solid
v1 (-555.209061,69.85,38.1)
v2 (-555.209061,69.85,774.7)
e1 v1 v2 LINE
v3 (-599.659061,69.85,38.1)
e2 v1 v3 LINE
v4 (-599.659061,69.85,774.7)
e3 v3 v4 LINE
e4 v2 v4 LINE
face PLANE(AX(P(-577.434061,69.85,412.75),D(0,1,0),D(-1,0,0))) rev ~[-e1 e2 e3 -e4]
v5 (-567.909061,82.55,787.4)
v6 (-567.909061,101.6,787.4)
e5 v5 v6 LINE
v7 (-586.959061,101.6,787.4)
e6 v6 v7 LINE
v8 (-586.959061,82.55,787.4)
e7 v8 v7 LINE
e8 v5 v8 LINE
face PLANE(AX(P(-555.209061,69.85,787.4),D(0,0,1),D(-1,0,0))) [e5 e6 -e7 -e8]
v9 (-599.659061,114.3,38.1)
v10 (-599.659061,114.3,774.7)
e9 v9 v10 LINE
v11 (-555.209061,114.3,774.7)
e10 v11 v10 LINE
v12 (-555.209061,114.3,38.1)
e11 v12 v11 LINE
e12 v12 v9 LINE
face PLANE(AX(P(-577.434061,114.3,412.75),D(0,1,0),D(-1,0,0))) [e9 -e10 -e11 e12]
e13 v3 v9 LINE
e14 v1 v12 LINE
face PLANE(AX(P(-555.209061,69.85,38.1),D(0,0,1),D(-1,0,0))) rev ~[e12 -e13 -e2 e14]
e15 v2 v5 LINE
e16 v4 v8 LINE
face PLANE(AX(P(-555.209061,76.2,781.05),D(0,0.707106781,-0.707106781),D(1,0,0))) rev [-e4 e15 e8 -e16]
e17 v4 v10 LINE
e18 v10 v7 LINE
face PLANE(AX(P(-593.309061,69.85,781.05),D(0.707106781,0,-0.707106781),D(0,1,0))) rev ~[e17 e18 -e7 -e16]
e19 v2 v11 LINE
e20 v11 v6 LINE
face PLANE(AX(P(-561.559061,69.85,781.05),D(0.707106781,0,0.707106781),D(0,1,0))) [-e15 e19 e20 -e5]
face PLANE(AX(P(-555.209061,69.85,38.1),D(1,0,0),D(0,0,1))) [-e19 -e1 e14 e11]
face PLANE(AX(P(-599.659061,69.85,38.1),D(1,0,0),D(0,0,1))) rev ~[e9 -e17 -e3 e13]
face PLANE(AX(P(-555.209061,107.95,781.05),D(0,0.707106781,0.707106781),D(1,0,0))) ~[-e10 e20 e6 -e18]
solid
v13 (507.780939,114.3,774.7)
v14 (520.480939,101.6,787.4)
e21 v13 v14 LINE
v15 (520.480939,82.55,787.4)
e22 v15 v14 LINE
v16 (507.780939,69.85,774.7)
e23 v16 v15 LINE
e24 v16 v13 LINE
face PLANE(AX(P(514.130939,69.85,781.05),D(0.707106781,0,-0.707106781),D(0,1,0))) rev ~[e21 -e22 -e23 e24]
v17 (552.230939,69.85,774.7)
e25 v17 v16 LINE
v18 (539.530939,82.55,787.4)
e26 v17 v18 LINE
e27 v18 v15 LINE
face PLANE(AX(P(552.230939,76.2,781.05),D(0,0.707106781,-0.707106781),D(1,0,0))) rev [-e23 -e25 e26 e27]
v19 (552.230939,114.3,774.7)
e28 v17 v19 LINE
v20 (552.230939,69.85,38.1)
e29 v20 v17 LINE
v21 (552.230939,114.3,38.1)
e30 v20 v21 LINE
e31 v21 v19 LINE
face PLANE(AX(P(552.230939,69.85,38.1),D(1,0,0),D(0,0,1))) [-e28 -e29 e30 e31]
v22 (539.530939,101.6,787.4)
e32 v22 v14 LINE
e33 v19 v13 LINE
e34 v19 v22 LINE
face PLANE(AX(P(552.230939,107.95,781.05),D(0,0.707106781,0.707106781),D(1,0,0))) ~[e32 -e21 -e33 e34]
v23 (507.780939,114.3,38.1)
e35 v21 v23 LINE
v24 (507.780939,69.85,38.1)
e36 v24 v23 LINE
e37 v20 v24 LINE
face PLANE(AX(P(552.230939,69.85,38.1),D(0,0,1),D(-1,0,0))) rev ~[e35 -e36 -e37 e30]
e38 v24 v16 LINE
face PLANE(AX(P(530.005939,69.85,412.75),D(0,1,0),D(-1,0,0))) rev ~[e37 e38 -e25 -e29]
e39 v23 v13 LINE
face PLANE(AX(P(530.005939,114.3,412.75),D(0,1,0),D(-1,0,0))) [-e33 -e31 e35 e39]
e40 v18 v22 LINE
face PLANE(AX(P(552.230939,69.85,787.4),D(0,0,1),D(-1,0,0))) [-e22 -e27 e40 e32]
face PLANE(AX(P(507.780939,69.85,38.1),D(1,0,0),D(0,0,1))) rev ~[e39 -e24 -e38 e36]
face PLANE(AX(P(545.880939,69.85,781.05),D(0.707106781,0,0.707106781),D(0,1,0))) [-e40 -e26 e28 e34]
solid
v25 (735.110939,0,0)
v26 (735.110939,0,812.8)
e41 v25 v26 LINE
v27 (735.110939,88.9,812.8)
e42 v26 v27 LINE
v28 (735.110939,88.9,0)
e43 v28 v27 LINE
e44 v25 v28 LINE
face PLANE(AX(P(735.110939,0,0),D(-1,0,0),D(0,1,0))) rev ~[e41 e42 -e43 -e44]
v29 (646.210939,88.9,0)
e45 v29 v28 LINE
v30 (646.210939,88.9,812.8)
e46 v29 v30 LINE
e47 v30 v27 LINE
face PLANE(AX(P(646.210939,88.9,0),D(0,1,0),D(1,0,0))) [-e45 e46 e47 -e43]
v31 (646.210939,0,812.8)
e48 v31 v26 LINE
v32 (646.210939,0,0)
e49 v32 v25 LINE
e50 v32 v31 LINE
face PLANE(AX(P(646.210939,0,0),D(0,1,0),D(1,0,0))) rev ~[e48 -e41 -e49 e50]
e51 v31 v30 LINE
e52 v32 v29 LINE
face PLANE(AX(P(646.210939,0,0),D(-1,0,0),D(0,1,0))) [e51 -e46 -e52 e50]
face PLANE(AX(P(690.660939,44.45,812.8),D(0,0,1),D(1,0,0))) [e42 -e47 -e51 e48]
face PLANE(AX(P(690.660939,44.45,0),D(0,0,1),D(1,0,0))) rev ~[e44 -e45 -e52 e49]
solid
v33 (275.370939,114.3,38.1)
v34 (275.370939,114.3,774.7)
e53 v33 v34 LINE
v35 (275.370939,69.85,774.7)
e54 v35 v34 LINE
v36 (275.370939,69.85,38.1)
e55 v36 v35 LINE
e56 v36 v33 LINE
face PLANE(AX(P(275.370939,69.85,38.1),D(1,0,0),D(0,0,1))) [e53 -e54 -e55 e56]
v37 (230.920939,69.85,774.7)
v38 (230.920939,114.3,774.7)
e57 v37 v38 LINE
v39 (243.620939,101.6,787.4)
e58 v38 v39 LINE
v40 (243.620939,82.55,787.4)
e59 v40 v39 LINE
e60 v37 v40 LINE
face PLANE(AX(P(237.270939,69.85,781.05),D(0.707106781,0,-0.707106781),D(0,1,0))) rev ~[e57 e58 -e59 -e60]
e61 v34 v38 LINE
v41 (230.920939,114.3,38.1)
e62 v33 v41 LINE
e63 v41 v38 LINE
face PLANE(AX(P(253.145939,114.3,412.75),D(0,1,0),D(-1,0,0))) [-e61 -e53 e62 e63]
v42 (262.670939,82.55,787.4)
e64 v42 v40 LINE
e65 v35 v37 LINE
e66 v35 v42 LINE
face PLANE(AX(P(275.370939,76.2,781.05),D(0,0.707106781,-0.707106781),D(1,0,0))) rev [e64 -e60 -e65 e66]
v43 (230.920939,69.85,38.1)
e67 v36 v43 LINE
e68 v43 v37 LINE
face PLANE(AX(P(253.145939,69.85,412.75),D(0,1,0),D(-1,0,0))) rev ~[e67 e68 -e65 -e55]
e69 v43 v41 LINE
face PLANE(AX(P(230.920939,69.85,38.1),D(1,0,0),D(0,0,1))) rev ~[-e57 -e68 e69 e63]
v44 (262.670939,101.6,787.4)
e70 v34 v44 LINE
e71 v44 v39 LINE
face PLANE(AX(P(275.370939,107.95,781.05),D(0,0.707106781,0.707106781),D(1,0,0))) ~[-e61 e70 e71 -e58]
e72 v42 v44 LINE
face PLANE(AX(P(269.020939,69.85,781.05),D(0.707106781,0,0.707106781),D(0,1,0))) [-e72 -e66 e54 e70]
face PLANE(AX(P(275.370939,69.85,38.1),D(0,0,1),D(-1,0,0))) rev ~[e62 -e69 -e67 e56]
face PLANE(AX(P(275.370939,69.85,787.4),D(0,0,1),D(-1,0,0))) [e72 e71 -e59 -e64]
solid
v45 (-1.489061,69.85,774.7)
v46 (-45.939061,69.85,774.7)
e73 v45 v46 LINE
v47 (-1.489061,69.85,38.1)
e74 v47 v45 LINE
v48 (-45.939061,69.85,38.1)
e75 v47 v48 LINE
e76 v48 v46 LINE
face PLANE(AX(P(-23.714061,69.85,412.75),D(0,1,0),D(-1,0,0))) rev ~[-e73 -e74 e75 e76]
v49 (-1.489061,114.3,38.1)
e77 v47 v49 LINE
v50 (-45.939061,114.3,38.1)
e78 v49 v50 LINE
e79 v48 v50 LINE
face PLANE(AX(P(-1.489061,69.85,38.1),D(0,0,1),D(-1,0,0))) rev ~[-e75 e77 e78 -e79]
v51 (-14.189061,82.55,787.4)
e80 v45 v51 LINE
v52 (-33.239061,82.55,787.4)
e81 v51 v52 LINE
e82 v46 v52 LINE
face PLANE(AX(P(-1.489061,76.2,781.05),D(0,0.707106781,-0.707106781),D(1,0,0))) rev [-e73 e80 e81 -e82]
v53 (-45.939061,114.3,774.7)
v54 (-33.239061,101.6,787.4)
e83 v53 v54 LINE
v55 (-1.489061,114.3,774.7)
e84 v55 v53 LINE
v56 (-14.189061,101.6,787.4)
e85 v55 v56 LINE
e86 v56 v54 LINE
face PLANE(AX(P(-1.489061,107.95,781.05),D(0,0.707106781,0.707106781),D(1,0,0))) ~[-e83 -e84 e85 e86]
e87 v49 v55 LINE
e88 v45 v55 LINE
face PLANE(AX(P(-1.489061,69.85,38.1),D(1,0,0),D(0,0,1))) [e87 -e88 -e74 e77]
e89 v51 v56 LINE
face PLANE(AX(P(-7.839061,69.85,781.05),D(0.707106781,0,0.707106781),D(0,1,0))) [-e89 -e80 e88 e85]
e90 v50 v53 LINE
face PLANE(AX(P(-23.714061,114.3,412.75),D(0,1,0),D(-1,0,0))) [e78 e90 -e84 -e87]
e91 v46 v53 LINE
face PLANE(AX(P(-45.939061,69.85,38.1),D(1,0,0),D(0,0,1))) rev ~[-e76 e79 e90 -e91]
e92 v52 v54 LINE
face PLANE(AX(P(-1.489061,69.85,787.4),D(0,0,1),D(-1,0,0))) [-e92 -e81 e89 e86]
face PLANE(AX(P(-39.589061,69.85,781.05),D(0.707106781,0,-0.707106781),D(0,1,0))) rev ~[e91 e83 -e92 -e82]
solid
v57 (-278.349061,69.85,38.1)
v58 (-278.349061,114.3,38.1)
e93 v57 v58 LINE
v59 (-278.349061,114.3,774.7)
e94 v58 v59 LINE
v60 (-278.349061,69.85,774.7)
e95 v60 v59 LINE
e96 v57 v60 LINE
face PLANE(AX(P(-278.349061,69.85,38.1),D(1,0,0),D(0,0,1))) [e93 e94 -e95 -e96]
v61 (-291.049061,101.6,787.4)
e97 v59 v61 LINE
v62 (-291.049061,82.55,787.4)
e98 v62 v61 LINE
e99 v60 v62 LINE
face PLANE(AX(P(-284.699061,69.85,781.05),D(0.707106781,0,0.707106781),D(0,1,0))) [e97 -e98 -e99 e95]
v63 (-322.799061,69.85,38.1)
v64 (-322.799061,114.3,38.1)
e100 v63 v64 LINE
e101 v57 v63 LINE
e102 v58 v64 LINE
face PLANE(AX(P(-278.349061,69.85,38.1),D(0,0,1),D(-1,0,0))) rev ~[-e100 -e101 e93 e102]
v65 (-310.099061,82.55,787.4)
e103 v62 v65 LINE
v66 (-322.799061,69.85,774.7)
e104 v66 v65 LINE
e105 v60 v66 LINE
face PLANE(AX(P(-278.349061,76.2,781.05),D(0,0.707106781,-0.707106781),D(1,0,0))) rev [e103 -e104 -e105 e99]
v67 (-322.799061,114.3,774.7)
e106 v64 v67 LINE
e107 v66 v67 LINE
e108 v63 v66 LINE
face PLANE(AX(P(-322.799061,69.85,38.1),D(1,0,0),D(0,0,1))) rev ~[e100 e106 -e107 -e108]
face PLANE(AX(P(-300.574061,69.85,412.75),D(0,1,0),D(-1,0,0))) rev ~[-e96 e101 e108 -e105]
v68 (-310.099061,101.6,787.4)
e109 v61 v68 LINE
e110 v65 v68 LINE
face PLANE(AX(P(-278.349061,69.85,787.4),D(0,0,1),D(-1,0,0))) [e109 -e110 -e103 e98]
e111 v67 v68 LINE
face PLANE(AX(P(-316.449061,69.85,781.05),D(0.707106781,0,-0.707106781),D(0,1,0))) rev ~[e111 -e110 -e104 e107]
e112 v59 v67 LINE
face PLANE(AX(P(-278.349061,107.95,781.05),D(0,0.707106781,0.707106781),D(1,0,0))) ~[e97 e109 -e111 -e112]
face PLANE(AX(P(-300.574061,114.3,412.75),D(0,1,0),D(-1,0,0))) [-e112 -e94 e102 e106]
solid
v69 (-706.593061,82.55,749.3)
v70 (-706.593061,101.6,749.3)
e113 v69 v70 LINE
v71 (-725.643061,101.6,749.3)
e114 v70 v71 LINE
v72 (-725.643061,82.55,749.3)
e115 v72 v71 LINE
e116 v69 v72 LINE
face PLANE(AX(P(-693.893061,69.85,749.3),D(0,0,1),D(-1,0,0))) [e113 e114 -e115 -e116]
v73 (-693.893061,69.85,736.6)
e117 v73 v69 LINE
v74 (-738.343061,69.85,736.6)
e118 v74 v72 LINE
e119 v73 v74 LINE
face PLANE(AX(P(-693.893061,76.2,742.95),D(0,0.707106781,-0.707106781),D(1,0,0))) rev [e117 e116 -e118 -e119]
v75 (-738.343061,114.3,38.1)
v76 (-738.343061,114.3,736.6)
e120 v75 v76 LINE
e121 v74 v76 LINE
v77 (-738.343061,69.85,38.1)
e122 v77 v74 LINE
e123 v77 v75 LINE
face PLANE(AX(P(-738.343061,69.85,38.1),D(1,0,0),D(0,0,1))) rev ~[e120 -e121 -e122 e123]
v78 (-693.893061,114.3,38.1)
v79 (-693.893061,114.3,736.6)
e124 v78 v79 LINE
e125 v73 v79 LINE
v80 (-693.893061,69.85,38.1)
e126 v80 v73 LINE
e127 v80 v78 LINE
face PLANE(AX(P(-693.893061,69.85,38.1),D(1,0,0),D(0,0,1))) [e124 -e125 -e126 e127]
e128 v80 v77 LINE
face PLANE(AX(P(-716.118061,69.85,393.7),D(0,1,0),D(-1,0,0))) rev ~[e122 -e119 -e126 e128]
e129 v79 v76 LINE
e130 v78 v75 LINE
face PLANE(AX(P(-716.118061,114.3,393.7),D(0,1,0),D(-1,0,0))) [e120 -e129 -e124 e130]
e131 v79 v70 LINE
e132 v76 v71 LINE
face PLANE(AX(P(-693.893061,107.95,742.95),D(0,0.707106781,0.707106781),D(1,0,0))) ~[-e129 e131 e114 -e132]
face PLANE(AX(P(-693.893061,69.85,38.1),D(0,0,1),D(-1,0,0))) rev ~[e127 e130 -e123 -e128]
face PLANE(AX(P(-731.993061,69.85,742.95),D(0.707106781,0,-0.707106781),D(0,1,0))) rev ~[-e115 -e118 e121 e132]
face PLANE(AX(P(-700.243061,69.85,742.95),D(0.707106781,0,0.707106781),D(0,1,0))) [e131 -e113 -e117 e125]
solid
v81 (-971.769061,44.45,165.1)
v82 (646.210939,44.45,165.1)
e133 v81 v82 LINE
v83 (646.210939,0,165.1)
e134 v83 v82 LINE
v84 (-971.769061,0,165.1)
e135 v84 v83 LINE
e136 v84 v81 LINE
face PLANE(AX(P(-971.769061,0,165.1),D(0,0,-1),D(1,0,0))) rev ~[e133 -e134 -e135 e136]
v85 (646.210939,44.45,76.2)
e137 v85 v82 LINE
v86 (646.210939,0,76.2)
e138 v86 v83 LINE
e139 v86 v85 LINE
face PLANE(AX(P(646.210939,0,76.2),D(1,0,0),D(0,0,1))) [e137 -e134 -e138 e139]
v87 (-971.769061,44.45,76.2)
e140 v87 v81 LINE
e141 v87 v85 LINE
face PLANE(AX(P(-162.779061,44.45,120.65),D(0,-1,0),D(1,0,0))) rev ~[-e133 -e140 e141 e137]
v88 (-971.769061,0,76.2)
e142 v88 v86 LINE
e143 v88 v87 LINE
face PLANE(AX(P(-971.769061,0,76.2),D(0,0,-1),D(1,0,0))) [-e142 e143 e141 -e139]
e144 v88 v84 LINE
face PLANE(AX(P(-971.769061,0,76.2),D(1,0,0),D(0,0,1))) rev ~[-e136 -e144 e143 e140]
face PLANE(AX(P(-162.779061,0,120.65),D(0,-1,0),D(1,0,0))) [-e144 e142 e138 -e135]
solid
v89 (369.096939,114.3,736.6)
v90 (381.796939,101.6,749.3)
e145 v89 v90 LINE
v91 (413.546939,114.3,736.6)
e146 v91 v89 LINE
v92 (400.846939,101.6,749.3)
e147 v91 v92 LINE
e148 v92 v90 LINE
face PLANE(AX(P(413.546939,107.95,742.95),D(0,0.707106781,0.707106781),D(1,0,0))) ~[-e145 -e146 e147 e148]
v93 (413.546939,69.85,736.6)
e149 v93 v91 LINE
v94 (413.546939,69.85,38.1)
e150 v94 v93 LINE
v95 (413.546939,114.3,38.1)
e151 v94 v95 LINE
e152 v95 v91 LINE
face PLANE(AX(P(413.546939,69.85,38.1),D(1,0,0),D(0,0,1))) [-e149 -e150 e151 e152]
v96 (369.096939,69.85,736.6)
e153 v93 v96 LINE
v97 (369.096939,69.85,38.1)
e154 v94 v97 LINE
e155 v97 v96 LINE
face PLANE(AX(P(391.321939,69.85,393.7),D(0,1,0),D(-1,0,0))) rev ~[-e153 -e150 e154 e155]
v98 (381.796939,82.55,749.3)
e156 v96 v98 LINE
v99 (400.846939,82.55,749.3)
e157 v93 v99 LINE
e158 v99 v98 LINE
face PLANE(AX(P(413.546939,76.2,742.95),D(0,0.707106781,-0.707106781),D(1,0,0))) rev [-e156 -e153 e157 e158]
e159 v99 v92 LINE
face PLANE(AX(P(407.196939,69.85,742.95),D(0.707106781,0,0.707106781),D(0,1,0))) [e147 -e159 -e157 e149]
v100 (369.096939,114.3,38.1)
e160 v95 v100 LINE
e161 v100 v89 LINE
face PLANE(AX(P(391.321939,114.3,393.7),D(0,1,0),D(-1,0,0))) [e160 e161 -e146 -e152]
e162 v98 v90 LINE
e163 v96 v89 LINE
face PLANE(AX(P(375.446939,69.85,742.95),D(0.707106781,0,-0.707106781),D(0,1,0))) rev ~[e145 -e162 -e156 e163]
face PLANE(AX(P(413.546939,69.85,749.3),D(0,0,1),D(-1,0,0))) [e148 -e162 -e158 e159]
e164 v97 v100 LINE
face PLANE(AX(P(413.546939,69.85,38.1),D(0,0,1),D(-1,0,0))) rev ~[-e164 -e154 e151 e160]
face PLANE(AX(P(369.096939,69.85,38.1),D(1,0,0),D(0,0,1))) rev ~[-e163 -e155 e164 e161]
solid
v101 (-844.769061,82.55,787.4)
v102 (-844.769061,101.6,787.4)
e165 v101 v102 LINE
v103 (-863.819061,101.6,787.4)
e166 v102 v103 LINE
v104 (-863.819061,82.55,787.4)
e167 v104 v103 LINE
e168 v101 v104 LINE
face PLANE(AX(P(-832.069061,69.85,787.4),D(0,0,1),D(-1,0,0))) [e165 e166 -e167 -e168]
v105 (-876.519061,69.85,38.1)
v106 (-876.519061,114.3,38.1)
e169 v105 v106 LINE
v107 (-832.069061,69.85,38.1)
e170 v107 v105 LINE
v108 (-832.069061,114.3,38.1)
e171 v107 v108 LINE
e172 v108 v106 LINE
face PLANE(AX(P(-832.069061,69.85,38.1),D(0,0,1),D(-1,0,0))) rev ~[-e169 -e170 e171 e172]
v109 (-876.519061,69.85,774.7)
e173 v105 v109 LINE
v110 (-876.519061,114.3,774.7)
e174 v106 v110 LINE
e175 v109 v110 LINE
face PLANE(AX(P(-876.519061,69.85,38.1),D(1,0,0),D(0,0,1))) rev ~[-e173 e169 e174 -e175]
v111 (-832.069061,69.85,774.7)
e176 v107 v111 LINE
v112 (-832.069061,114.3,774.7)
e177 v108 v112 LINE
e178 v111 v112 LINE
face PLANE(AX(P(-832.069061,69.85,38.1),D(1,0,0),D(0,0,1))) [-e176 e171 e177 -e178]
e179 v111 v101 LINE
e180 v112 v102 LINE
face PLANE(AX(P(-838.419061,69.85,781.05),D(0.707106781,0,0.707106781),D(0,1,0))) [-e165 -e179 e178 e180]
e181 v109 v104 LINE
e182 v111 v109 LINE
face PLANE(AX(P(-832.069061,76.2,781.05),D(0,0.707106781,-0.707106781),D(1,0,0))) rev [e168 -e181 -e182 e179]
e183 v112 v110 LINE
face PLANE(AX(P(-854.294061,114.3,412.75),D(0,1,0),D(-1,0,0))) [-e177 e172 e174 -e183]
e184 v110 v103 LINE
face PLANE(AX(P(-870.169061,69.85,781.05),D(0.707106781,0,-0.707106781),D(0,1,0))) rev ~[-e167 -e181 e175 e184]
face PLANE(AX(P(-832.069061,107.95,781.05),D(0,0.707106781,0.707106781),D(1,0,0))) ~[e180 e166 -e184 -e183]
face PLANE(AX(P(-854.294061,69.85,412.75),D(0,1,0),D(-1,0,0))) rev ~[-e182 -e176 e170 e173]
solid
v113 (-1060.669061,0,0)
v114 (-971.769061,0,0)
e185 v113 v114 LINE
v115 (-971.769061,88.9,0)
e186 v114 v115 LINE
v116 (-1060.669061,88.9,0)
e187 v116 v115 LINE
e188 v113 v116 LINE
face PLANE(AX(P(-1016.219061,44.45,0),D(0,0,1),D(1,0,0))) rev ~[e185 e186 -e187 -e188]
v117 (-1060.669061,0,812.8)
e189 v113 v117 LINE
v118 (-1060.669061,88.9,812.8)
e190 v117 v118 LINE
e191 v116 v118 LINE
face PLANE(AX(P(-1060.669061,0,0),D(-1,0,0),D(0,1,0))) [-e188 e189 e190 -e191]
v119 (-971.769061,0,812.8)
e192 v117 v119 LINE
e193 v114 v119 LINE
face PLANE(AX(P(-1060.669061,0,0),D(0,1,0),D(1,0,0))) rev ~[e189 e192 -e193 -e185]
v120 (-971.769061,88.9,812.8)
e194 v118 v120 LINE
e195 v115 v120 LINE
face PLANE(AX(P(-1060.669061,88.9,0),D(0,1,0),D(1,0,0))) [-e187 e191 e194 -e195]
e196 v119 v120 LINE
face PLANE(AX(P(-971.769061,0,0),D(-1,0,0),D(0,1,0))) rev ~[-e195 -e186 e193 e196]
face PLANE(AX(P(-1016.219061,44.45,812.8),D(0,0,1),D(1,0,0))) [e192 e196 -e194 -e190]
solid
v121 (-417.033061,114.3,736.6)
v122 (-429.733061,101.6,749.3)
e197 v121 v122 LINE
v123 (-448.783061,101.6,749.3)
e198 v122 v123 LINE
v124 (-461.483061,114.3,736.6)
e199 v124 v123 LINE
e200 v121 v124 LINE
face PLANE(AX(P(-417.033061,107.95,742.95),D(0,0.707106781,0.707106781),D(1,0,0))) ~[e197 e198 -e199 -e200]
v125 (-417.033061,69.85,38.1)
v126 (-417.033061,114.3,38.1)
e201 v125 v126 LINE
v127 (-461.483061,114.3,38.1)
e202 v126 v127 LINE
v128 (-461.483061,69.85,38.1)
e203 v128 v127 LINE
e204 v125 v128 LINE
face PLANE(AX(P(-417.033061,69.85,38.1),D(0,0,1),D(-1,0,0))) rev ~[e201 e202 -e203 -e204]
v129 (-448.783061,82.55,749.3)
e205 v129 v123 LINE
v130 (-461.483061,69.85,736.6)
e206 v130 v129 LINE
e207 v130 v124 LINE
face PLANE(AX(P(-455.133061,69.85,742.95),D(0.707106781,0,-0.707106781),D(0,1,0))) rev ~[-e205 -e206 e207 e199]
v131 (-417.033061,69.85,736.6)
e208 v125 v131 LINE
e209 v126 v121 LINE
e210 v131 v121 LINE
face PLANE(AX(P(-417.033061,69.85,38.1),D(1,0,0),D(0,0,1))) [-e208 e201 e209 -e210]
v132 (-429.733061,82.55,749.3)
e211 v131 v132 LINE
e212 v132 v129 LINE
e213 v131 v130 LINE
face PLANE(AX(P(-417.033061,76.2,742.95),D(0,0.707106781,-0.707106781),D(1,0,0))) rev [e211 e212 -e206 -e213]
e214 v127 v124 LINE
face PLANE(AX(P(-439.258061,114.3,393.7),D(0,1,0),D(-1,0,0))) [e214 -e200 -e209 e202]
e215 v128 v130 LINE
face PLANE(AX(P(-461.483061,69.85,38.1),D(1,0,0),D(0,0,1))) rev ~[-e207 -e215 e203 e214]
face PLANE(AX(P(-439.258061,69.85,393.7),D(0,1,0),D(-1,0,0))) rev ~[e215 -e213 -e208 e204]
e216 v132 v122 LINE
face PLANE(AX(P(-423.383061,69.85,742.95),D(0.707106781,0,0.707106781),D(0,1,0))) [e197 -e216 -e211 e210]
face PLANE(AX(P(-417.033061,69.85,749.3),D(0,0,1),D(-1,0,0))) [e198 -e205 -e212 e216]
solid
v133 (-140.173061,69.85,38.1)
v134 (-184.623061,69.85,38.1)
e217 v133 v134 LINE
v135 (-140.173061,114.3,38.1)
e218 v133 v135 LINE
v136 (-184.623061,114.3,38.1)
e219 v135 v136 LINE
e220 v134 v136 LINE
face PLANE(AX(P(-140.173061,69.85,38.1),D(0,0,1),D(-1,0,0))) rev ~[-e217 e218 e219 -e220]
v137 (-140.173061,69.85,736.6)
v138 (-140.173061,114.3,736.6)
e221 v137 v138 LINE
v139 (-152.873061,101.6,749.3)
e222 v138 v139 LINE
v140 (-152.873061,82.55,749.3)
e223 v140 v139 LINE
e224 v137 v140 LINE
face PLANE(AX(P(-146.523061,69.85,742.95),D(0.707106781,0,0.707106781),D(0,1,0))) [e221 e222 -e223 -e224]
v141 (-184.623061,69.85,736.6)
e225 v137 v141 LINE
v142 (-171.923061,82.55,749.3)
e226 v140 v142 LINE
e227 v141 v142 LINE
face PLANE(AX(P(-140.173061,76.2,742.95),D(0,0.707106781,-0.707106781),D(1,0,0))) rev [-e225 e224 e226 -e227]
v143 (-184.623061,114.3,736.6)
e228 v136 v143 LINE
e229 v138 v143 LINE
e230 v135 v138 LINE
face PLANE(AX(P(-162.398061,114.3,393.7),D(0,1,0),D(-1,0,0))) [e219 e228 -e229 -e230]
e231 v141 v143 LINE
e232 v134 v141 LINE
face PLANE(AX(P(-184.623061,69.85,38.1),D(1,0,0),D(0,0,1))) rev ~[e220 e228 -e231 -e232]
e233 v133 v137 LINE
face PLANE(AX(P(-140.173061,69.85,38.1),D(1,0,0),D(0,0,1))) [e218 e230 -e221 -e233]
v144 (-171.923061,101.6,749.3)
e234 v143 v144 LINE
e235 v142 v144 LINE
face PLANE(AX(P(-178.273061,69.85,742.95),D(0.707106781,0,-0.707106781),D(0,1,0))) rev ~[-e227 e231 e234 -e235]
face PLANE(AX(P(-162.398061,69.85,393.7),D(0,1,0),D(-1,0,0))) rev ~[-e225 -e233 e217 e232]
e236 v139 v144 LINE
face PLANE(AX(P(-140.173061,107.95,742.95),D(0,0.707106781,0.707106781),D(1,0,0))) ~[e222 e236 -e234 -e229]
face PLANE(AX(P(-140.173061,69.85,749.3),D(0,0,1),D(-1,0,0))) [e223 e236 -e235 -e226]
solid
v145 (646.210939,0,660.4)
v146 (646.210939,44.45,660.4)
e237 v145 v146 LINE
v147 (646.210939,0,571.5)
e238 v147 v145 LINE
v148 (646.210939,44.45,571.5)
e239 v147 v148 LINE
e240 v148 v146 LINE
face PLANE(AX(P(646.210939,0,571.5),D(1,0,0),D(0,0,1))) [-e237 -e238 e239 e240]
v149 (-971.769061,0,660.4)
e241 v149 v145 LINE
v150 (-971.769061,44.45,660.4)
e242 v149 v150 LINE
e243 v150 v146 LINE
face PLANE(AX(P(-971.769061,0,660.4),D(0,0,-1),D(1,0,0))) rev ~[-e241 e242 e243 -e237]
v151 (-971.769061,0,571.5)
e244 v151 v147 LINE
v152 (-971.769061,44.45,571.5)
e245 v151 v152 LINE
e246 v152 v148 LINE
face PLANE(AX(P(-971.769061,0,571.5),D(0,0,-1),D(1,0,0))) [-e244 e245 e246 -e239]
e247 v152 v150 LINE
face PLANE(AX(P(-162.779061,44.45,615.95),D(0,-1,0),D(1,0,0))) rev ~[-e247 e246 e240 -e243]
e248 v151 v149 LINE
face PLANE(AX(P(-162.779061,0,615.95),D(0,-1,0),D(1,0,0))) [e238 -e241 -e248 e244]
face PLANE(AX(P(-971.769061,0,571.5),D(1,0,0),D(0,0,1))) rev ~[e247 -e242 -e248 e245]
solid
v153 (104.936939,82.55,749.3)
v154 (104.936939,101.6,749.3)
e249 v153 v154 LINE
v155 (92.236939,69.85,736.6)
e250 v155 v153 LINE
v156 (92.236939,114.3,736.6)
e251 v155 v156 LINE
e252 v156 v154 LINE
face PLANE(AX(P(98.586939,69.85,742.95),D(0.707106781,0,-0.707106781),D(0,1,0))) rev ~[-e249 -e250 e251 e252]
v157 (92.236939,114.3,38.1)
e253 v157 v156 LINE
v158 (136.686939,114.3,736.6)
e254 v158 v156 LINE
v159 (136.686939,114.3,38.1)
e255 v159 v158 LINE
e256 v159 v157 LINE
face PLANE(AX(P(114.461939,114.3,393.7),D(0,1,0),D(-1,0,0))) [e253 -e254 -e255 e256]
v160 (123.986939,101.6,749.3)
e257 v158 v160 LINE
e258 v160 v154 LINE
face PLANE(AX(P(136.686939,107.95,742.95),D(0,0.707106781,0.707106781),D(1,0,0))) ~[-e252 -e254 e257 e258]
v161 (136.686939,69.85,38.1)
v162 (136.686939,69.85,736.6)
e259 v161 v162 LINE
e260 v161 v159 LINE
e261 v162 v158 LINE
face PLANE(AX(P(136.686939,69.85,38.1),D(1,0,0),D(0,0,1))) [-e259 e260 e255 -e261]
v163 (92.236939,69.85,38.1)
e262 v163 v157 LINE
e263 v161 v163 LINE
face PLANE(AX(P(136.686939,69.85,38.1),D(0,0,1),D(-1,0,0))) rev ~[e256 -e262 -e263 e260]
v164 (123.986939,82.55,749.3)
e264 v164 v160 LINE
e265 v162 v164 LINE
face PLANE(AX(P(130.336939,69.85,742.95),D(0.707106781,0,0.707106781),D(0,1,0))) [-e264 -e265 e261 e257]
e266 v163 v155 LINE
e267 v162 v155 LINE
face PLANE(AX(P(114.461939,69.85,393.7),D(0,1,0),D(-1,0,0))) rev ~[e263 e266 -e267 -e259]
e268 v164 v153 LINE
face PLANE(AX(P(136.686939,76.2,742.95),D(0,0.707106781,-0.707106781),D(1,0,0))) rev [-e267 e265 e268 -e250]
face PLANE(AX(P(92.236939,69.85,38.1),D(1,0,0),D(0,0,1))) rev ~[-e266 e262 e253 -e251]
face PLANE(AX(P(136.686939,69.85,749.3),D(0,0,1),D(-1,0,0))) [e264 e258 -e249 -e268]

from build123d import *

# Parameters (mm, degrees)
F0_W        = 88.9
F0_H        = 88.9
F1_DEPTH    = 812.8
F4_W        = 1617.98
F4_H        = 88.9
F5_DEPTH    = 44.45
F8_W        = 44.45
F8_H        = 749.3
F9_DEPTH    = 44.45
F10_W       = 44.45
F10_H       = 711.2
F11_DEPTH   = 44.45
F12_SIZE    = 12.7
F12_2_SIZE  = 12.7
F12_3_SIZE  = 12.7
F12_4_SIZE  = 12.7
F12_5_SIZE  = 12.7
F12_6_SIZE  = 12.7
F12_7_SIZE  = 12.7
F12_8_SIZE  = 12.7
F12_9_SIZE  = 12.7
F12_10_SIZE = 12.7
F12_11_SIZE = 12.7


with BuildPart() as f1:
    # F0 (on Top) → F1 (new body)
    with BuildSketch(Plane.XY):
        with Locations((-1016.219060569, 44.45)):
            Rectangle(F0_W, F0_H)
    extrude(amount=F1_DEPTH)


with BuildPart() as f1b:
    # F0 (on Top) → F1, piece 2 (new body)
    with BuildSketch(Plane.XY):
        with Locations((690.660939431, 44.45)):
            Rectangle(F0_W, F0_H)
    extrude(amount=F1_DEPTH)


with BuildPart() as f5:
    # F4 (on offset) → F5 (new body)
    with BuildSketch(Plane.XZ):
        with Locations((-162.779060569, 615.95)):
            Rectangle(F4_W, F4_H)
    extrude(amount=-F5_DEPTH)


with BuildPart() as f5b:
    # F4 (on offset) → F5, piece 2 (new body)
    with BuildSketch(Plane.XZ):
        with Locations((-162.779060569, 120.65)):
            Rectangle(F4_W, F4_H)
    extrude(amount=-F5_DEPTH)


with BuildPart() as f9:
    # F8 (on offset) → F9 (new body)
    with BuildSketch(Plane(origin=(0, 69.85, 0), x_dir=(-1, 0, 0), z_dir=(0, 1, 0))):
        with Locations((-530.005939431, 412.75)):
            Rectangle(F8_W, F8_H)
    extrude(amount=F9_DEPTH)

    # F12
    f12_edges = [f9.edges().sort_by_distance(p)[0] for p in [
        (507.780939, 92.075, 787.4),
        (552.230939, 92.075, 787.4),
        (530.005939, 69.85, 787.4),
        (530.005939, 114.3, 787.4),
    ]]
    chamfer(f12_edges, length=F12_SIZE)


with BuildPart() as f9b:
    # F8 (on offset) → F9, piece 2 (new body)
    with BuildSketch(Plane(origin=(0, 69.85, 0), x_dir=(-1, 0, 0), z_dir=(0, 1, 0))):
        with Locations((-253.145939431, 412.75)):
            Rectangle(F8_W, F8_H)
    extrude(amount=F9_DEPTH)

    # F12#3
    f12_3_edges = [f9b.edges().sort_by_distance(p)[0] for p in [
        (230.920939, 92.075, 787.4),
        (275.370939, 92.075, 787.4),
        (253.145939, 69.85, 787.4),
        (253.145939, 114.3, 787.4),
    ]]
    chamfer(f12_3_edges, length=F12_3_SIZE)


with BuildPart() as f9c:
    # F8 (on offset) → F9, piece 3 (new body)
    with BuildSketch(Plane(origin=(0, 69.85, 0), x_dir=(-1, 0, 0), z_dir=(0, 1, 0))):
        with Locations((23.714060569, 412.75)):
            Rectangle(F8_W, F8_H)
    extrude(amount=F9_DEPTH)

    # F12#5
    f12_5_edges = [f9c.edges().sort_by_distance(p)[0] for p in [
        (-45.939061, 92.075, 787.4),
        (-1.489061, 92.075, 787.4),
        (-23.714061, 69.85, 787.4),
        (-23.714061, 114.3, 787.4),
    ]]
    chamfer(f12_5_edges, length=F12_5_SIZE)


with BuildPart() as f9d:
    # F8 (on offset) → F9, piece 4 (new body)
    with BuildSketch(Plane(origin=(0, 69.85, 0), x_dir=(-1, 0, 0), z_dir=(0, 1, 0))):
        with Locations((300.574060569, 412.75)):
            Rectangle(F8_W, F8_H)
    extrude(amount=F9_DEPTH)

    # F12#7
    f12_7_edges = [f9d.edges().sort_by_distance(p)[0] for p in [
        (-322.799061, 92.075, 787.4),
        (-278.349061, 92.075, 787.4),
        (-300.574061, 69.85, 787.4),
        (-300.574061, 114.3, 787.4),
    ]]
    chamfer(f12_7_edges, length=F12_7_SIZE)


with BuildPart() as f9e:
    # F8 (on offset) → F9, piece 5 (new body)
    with BuildSketch(Plane(origin=(0, 69.85, 0), x_dir=(-1, 0, 0), z_dir=(0, 1, 0))):
        with Locations((577.434060569, 412.75)):
            Rectangle(F8_W, F8_H)
    extrude(amount=F9_DEPTH)

    # F12#9
    f12_9_edges = [f9e.edges().sort_by_distance(p)[0] for p in [
        (-599.659061, 92.075, 787.4),
        (-555.209061, 92.075, 787.4),
        (-577.434061, 69.85, 787.4),
        (-577.434061, 114.3, 787.4),
    ]]
    chamfer(f12_9_edges, length=F12_9_SIZE)


with BuildPart() as f9f:
    # F8 (on offset) → F9, piece 6 (new body)
    with BuildSketch(Plane(origin=(0, 69.85, 0), x_dir=(-1, 0, 0), z_dir=(0, 1, 0))):
        with Locations((854.294060569, 412.75)):
            Rectangle(F8_W, F8_H)
    extrude(amount=F9_DEPTH)

    # F12#11
    f12_11_edges = [f9f.edges().sort_by_distance(p)[0] for p in [
        (-876.519061, 92.075, 787.4),
        (-832.069061, 92.075, 787.4),
        (-854.294061, 69.85, 787.4),
        (-854.294061, 114.3, 787.4),
    ]]
    chamfer(f12_11_edges, length=F12_11_SIZE)


with BuildPart() as f11:
    # F10 (on offset) → F11 (new body)
    with BuildSketch(Plane(origin=(0, 69.85, 0), x_dir=(-1, 0, 0), z_dir=(0, 1, 0))):
        with Locations((-391.321939431, 393.7)):
            Rectangle(F10_W, F10_H)
    extrude(amount=F11_DEPTH)

    # F12#2
    f12_2_edges = [f11.edges().sort_by_distance(p)[0] for p in [
        (369.096939, 92.075, 749.3),
        (413.546939, 92.075, 749.3),
        (391.321939, 69.85, 749.3),
        (391.321939, 114.3, 749.3),
    ]]
    chamfer(f12_2_edges, length=F12_2_SIZE)


with BuildPart() as f11b:
    # F10 (on offset) → F11, piece 2 (new body)
    with BuildSketch(Plane(origin=(0, 69.85, 0), x_dir=(-1, 0, 0), z_dir=(0, 1, 0))):
        with Locations((-114.461939431, 393.7)):
            Rectangle(F10_W, F10_H)
    extrude(amount=F11_DEPTH)

    # F12#4
    f12_4_edges = [f11b.edges().sort_by_distance(p)[0] for p in [
        (92.236939, 92.075, 749.3),
        (136.686939, 92.075, 749.3),
        (114.461939, 69.85, 749.3),
        (114.461939, 114.3, 749.3),
    ]]
    chamfer(f12_4_edges, length=F12_4_SIZE)


with BuildPart() as f11c:
    # F10 (on offset) → F11, piece 3 (new body)
    with BuildSketch(Plane(origin=(0, 69.85, 0), x_dir=(-1, 0, 0), z_dir=(0, 1, 0))):
        with Locations((162.398060569, 393.7)):
            Rectangle(F10_W, F10_H)
    extrude(amount=F11_DEPTH)

    # F12#6
    f12_6_edges = [f11c.edges().sort_by_distance(p)[0] for p in [
        (-184.623061, 92.075, 749.3),
        (-140.173061, 92.075, 749.3),
        (-162.398061, 69.85, 749.3),
        (-162.398061, 114.3, 749.3),
    ]]
    chamfer(f12_6_edges, length=F12_6_SIZE)


with BuildPart() as f11d:
    # F10 (on offset) → F11, piece 4 (new body)
    with BuildSketch(Plane(origin=(0, 69.85, 0), x_dir=(-1, 0, 0), z_dir=(0, 1, 0))):
        with Locations((439.258060569, 393.7)):
            Rectangle(F10_W, F10_H)
    extrude(amount=F11_DEPTH)

    # F12#8
    f12_8_edges = [f11d.edges().sort_by_distance(p)[0] for p in [
        (-461.483061, 92.075, 749.3),
        (-417.033061, 92.075, 749.3),
        (-439.258061, 69.85, 749.3),
        (-439.258061, 114.3, 749.3),
    ]]
    chamfer(f12_8_edges, length=F12_8_SIZE)


with BuildPart() as f11e:
    # F10 (on offset) → F11, piece 5 (new body)
    with BuildSketch(Plane(origin=(0, 69.85, 0), x_dir=(-1, 0, 0), z_dir=(0, 1, 0))):
        with Locations((716.118060569, 393.7)):
            Rectangle(F10_W, F10_H)
    extrude(amount=F11_DEPTH)

    # F12#10
    f12_10_edges = [f11e.edges().sort_by_distance(p)[0] for p in [
        (-738.343061, 92.075, 749.3),
        (-693.893061, 92.075, 749.3),
        (-716.118061, 69.85, 749.3),
        (-716.118061, 114.3, 749.3),
    ]]
    chamfer(f12_10_edges, length=F12_10_SIZE)


solid = Compound([f1.part, f1b.part, f5.part, f5b.part, f9.part, f9b.part, f9c.part, f9d.part, f9e.part, f9f.part, f11.part, f11b.part, f11c.part, f11d.part, f11e.part])
